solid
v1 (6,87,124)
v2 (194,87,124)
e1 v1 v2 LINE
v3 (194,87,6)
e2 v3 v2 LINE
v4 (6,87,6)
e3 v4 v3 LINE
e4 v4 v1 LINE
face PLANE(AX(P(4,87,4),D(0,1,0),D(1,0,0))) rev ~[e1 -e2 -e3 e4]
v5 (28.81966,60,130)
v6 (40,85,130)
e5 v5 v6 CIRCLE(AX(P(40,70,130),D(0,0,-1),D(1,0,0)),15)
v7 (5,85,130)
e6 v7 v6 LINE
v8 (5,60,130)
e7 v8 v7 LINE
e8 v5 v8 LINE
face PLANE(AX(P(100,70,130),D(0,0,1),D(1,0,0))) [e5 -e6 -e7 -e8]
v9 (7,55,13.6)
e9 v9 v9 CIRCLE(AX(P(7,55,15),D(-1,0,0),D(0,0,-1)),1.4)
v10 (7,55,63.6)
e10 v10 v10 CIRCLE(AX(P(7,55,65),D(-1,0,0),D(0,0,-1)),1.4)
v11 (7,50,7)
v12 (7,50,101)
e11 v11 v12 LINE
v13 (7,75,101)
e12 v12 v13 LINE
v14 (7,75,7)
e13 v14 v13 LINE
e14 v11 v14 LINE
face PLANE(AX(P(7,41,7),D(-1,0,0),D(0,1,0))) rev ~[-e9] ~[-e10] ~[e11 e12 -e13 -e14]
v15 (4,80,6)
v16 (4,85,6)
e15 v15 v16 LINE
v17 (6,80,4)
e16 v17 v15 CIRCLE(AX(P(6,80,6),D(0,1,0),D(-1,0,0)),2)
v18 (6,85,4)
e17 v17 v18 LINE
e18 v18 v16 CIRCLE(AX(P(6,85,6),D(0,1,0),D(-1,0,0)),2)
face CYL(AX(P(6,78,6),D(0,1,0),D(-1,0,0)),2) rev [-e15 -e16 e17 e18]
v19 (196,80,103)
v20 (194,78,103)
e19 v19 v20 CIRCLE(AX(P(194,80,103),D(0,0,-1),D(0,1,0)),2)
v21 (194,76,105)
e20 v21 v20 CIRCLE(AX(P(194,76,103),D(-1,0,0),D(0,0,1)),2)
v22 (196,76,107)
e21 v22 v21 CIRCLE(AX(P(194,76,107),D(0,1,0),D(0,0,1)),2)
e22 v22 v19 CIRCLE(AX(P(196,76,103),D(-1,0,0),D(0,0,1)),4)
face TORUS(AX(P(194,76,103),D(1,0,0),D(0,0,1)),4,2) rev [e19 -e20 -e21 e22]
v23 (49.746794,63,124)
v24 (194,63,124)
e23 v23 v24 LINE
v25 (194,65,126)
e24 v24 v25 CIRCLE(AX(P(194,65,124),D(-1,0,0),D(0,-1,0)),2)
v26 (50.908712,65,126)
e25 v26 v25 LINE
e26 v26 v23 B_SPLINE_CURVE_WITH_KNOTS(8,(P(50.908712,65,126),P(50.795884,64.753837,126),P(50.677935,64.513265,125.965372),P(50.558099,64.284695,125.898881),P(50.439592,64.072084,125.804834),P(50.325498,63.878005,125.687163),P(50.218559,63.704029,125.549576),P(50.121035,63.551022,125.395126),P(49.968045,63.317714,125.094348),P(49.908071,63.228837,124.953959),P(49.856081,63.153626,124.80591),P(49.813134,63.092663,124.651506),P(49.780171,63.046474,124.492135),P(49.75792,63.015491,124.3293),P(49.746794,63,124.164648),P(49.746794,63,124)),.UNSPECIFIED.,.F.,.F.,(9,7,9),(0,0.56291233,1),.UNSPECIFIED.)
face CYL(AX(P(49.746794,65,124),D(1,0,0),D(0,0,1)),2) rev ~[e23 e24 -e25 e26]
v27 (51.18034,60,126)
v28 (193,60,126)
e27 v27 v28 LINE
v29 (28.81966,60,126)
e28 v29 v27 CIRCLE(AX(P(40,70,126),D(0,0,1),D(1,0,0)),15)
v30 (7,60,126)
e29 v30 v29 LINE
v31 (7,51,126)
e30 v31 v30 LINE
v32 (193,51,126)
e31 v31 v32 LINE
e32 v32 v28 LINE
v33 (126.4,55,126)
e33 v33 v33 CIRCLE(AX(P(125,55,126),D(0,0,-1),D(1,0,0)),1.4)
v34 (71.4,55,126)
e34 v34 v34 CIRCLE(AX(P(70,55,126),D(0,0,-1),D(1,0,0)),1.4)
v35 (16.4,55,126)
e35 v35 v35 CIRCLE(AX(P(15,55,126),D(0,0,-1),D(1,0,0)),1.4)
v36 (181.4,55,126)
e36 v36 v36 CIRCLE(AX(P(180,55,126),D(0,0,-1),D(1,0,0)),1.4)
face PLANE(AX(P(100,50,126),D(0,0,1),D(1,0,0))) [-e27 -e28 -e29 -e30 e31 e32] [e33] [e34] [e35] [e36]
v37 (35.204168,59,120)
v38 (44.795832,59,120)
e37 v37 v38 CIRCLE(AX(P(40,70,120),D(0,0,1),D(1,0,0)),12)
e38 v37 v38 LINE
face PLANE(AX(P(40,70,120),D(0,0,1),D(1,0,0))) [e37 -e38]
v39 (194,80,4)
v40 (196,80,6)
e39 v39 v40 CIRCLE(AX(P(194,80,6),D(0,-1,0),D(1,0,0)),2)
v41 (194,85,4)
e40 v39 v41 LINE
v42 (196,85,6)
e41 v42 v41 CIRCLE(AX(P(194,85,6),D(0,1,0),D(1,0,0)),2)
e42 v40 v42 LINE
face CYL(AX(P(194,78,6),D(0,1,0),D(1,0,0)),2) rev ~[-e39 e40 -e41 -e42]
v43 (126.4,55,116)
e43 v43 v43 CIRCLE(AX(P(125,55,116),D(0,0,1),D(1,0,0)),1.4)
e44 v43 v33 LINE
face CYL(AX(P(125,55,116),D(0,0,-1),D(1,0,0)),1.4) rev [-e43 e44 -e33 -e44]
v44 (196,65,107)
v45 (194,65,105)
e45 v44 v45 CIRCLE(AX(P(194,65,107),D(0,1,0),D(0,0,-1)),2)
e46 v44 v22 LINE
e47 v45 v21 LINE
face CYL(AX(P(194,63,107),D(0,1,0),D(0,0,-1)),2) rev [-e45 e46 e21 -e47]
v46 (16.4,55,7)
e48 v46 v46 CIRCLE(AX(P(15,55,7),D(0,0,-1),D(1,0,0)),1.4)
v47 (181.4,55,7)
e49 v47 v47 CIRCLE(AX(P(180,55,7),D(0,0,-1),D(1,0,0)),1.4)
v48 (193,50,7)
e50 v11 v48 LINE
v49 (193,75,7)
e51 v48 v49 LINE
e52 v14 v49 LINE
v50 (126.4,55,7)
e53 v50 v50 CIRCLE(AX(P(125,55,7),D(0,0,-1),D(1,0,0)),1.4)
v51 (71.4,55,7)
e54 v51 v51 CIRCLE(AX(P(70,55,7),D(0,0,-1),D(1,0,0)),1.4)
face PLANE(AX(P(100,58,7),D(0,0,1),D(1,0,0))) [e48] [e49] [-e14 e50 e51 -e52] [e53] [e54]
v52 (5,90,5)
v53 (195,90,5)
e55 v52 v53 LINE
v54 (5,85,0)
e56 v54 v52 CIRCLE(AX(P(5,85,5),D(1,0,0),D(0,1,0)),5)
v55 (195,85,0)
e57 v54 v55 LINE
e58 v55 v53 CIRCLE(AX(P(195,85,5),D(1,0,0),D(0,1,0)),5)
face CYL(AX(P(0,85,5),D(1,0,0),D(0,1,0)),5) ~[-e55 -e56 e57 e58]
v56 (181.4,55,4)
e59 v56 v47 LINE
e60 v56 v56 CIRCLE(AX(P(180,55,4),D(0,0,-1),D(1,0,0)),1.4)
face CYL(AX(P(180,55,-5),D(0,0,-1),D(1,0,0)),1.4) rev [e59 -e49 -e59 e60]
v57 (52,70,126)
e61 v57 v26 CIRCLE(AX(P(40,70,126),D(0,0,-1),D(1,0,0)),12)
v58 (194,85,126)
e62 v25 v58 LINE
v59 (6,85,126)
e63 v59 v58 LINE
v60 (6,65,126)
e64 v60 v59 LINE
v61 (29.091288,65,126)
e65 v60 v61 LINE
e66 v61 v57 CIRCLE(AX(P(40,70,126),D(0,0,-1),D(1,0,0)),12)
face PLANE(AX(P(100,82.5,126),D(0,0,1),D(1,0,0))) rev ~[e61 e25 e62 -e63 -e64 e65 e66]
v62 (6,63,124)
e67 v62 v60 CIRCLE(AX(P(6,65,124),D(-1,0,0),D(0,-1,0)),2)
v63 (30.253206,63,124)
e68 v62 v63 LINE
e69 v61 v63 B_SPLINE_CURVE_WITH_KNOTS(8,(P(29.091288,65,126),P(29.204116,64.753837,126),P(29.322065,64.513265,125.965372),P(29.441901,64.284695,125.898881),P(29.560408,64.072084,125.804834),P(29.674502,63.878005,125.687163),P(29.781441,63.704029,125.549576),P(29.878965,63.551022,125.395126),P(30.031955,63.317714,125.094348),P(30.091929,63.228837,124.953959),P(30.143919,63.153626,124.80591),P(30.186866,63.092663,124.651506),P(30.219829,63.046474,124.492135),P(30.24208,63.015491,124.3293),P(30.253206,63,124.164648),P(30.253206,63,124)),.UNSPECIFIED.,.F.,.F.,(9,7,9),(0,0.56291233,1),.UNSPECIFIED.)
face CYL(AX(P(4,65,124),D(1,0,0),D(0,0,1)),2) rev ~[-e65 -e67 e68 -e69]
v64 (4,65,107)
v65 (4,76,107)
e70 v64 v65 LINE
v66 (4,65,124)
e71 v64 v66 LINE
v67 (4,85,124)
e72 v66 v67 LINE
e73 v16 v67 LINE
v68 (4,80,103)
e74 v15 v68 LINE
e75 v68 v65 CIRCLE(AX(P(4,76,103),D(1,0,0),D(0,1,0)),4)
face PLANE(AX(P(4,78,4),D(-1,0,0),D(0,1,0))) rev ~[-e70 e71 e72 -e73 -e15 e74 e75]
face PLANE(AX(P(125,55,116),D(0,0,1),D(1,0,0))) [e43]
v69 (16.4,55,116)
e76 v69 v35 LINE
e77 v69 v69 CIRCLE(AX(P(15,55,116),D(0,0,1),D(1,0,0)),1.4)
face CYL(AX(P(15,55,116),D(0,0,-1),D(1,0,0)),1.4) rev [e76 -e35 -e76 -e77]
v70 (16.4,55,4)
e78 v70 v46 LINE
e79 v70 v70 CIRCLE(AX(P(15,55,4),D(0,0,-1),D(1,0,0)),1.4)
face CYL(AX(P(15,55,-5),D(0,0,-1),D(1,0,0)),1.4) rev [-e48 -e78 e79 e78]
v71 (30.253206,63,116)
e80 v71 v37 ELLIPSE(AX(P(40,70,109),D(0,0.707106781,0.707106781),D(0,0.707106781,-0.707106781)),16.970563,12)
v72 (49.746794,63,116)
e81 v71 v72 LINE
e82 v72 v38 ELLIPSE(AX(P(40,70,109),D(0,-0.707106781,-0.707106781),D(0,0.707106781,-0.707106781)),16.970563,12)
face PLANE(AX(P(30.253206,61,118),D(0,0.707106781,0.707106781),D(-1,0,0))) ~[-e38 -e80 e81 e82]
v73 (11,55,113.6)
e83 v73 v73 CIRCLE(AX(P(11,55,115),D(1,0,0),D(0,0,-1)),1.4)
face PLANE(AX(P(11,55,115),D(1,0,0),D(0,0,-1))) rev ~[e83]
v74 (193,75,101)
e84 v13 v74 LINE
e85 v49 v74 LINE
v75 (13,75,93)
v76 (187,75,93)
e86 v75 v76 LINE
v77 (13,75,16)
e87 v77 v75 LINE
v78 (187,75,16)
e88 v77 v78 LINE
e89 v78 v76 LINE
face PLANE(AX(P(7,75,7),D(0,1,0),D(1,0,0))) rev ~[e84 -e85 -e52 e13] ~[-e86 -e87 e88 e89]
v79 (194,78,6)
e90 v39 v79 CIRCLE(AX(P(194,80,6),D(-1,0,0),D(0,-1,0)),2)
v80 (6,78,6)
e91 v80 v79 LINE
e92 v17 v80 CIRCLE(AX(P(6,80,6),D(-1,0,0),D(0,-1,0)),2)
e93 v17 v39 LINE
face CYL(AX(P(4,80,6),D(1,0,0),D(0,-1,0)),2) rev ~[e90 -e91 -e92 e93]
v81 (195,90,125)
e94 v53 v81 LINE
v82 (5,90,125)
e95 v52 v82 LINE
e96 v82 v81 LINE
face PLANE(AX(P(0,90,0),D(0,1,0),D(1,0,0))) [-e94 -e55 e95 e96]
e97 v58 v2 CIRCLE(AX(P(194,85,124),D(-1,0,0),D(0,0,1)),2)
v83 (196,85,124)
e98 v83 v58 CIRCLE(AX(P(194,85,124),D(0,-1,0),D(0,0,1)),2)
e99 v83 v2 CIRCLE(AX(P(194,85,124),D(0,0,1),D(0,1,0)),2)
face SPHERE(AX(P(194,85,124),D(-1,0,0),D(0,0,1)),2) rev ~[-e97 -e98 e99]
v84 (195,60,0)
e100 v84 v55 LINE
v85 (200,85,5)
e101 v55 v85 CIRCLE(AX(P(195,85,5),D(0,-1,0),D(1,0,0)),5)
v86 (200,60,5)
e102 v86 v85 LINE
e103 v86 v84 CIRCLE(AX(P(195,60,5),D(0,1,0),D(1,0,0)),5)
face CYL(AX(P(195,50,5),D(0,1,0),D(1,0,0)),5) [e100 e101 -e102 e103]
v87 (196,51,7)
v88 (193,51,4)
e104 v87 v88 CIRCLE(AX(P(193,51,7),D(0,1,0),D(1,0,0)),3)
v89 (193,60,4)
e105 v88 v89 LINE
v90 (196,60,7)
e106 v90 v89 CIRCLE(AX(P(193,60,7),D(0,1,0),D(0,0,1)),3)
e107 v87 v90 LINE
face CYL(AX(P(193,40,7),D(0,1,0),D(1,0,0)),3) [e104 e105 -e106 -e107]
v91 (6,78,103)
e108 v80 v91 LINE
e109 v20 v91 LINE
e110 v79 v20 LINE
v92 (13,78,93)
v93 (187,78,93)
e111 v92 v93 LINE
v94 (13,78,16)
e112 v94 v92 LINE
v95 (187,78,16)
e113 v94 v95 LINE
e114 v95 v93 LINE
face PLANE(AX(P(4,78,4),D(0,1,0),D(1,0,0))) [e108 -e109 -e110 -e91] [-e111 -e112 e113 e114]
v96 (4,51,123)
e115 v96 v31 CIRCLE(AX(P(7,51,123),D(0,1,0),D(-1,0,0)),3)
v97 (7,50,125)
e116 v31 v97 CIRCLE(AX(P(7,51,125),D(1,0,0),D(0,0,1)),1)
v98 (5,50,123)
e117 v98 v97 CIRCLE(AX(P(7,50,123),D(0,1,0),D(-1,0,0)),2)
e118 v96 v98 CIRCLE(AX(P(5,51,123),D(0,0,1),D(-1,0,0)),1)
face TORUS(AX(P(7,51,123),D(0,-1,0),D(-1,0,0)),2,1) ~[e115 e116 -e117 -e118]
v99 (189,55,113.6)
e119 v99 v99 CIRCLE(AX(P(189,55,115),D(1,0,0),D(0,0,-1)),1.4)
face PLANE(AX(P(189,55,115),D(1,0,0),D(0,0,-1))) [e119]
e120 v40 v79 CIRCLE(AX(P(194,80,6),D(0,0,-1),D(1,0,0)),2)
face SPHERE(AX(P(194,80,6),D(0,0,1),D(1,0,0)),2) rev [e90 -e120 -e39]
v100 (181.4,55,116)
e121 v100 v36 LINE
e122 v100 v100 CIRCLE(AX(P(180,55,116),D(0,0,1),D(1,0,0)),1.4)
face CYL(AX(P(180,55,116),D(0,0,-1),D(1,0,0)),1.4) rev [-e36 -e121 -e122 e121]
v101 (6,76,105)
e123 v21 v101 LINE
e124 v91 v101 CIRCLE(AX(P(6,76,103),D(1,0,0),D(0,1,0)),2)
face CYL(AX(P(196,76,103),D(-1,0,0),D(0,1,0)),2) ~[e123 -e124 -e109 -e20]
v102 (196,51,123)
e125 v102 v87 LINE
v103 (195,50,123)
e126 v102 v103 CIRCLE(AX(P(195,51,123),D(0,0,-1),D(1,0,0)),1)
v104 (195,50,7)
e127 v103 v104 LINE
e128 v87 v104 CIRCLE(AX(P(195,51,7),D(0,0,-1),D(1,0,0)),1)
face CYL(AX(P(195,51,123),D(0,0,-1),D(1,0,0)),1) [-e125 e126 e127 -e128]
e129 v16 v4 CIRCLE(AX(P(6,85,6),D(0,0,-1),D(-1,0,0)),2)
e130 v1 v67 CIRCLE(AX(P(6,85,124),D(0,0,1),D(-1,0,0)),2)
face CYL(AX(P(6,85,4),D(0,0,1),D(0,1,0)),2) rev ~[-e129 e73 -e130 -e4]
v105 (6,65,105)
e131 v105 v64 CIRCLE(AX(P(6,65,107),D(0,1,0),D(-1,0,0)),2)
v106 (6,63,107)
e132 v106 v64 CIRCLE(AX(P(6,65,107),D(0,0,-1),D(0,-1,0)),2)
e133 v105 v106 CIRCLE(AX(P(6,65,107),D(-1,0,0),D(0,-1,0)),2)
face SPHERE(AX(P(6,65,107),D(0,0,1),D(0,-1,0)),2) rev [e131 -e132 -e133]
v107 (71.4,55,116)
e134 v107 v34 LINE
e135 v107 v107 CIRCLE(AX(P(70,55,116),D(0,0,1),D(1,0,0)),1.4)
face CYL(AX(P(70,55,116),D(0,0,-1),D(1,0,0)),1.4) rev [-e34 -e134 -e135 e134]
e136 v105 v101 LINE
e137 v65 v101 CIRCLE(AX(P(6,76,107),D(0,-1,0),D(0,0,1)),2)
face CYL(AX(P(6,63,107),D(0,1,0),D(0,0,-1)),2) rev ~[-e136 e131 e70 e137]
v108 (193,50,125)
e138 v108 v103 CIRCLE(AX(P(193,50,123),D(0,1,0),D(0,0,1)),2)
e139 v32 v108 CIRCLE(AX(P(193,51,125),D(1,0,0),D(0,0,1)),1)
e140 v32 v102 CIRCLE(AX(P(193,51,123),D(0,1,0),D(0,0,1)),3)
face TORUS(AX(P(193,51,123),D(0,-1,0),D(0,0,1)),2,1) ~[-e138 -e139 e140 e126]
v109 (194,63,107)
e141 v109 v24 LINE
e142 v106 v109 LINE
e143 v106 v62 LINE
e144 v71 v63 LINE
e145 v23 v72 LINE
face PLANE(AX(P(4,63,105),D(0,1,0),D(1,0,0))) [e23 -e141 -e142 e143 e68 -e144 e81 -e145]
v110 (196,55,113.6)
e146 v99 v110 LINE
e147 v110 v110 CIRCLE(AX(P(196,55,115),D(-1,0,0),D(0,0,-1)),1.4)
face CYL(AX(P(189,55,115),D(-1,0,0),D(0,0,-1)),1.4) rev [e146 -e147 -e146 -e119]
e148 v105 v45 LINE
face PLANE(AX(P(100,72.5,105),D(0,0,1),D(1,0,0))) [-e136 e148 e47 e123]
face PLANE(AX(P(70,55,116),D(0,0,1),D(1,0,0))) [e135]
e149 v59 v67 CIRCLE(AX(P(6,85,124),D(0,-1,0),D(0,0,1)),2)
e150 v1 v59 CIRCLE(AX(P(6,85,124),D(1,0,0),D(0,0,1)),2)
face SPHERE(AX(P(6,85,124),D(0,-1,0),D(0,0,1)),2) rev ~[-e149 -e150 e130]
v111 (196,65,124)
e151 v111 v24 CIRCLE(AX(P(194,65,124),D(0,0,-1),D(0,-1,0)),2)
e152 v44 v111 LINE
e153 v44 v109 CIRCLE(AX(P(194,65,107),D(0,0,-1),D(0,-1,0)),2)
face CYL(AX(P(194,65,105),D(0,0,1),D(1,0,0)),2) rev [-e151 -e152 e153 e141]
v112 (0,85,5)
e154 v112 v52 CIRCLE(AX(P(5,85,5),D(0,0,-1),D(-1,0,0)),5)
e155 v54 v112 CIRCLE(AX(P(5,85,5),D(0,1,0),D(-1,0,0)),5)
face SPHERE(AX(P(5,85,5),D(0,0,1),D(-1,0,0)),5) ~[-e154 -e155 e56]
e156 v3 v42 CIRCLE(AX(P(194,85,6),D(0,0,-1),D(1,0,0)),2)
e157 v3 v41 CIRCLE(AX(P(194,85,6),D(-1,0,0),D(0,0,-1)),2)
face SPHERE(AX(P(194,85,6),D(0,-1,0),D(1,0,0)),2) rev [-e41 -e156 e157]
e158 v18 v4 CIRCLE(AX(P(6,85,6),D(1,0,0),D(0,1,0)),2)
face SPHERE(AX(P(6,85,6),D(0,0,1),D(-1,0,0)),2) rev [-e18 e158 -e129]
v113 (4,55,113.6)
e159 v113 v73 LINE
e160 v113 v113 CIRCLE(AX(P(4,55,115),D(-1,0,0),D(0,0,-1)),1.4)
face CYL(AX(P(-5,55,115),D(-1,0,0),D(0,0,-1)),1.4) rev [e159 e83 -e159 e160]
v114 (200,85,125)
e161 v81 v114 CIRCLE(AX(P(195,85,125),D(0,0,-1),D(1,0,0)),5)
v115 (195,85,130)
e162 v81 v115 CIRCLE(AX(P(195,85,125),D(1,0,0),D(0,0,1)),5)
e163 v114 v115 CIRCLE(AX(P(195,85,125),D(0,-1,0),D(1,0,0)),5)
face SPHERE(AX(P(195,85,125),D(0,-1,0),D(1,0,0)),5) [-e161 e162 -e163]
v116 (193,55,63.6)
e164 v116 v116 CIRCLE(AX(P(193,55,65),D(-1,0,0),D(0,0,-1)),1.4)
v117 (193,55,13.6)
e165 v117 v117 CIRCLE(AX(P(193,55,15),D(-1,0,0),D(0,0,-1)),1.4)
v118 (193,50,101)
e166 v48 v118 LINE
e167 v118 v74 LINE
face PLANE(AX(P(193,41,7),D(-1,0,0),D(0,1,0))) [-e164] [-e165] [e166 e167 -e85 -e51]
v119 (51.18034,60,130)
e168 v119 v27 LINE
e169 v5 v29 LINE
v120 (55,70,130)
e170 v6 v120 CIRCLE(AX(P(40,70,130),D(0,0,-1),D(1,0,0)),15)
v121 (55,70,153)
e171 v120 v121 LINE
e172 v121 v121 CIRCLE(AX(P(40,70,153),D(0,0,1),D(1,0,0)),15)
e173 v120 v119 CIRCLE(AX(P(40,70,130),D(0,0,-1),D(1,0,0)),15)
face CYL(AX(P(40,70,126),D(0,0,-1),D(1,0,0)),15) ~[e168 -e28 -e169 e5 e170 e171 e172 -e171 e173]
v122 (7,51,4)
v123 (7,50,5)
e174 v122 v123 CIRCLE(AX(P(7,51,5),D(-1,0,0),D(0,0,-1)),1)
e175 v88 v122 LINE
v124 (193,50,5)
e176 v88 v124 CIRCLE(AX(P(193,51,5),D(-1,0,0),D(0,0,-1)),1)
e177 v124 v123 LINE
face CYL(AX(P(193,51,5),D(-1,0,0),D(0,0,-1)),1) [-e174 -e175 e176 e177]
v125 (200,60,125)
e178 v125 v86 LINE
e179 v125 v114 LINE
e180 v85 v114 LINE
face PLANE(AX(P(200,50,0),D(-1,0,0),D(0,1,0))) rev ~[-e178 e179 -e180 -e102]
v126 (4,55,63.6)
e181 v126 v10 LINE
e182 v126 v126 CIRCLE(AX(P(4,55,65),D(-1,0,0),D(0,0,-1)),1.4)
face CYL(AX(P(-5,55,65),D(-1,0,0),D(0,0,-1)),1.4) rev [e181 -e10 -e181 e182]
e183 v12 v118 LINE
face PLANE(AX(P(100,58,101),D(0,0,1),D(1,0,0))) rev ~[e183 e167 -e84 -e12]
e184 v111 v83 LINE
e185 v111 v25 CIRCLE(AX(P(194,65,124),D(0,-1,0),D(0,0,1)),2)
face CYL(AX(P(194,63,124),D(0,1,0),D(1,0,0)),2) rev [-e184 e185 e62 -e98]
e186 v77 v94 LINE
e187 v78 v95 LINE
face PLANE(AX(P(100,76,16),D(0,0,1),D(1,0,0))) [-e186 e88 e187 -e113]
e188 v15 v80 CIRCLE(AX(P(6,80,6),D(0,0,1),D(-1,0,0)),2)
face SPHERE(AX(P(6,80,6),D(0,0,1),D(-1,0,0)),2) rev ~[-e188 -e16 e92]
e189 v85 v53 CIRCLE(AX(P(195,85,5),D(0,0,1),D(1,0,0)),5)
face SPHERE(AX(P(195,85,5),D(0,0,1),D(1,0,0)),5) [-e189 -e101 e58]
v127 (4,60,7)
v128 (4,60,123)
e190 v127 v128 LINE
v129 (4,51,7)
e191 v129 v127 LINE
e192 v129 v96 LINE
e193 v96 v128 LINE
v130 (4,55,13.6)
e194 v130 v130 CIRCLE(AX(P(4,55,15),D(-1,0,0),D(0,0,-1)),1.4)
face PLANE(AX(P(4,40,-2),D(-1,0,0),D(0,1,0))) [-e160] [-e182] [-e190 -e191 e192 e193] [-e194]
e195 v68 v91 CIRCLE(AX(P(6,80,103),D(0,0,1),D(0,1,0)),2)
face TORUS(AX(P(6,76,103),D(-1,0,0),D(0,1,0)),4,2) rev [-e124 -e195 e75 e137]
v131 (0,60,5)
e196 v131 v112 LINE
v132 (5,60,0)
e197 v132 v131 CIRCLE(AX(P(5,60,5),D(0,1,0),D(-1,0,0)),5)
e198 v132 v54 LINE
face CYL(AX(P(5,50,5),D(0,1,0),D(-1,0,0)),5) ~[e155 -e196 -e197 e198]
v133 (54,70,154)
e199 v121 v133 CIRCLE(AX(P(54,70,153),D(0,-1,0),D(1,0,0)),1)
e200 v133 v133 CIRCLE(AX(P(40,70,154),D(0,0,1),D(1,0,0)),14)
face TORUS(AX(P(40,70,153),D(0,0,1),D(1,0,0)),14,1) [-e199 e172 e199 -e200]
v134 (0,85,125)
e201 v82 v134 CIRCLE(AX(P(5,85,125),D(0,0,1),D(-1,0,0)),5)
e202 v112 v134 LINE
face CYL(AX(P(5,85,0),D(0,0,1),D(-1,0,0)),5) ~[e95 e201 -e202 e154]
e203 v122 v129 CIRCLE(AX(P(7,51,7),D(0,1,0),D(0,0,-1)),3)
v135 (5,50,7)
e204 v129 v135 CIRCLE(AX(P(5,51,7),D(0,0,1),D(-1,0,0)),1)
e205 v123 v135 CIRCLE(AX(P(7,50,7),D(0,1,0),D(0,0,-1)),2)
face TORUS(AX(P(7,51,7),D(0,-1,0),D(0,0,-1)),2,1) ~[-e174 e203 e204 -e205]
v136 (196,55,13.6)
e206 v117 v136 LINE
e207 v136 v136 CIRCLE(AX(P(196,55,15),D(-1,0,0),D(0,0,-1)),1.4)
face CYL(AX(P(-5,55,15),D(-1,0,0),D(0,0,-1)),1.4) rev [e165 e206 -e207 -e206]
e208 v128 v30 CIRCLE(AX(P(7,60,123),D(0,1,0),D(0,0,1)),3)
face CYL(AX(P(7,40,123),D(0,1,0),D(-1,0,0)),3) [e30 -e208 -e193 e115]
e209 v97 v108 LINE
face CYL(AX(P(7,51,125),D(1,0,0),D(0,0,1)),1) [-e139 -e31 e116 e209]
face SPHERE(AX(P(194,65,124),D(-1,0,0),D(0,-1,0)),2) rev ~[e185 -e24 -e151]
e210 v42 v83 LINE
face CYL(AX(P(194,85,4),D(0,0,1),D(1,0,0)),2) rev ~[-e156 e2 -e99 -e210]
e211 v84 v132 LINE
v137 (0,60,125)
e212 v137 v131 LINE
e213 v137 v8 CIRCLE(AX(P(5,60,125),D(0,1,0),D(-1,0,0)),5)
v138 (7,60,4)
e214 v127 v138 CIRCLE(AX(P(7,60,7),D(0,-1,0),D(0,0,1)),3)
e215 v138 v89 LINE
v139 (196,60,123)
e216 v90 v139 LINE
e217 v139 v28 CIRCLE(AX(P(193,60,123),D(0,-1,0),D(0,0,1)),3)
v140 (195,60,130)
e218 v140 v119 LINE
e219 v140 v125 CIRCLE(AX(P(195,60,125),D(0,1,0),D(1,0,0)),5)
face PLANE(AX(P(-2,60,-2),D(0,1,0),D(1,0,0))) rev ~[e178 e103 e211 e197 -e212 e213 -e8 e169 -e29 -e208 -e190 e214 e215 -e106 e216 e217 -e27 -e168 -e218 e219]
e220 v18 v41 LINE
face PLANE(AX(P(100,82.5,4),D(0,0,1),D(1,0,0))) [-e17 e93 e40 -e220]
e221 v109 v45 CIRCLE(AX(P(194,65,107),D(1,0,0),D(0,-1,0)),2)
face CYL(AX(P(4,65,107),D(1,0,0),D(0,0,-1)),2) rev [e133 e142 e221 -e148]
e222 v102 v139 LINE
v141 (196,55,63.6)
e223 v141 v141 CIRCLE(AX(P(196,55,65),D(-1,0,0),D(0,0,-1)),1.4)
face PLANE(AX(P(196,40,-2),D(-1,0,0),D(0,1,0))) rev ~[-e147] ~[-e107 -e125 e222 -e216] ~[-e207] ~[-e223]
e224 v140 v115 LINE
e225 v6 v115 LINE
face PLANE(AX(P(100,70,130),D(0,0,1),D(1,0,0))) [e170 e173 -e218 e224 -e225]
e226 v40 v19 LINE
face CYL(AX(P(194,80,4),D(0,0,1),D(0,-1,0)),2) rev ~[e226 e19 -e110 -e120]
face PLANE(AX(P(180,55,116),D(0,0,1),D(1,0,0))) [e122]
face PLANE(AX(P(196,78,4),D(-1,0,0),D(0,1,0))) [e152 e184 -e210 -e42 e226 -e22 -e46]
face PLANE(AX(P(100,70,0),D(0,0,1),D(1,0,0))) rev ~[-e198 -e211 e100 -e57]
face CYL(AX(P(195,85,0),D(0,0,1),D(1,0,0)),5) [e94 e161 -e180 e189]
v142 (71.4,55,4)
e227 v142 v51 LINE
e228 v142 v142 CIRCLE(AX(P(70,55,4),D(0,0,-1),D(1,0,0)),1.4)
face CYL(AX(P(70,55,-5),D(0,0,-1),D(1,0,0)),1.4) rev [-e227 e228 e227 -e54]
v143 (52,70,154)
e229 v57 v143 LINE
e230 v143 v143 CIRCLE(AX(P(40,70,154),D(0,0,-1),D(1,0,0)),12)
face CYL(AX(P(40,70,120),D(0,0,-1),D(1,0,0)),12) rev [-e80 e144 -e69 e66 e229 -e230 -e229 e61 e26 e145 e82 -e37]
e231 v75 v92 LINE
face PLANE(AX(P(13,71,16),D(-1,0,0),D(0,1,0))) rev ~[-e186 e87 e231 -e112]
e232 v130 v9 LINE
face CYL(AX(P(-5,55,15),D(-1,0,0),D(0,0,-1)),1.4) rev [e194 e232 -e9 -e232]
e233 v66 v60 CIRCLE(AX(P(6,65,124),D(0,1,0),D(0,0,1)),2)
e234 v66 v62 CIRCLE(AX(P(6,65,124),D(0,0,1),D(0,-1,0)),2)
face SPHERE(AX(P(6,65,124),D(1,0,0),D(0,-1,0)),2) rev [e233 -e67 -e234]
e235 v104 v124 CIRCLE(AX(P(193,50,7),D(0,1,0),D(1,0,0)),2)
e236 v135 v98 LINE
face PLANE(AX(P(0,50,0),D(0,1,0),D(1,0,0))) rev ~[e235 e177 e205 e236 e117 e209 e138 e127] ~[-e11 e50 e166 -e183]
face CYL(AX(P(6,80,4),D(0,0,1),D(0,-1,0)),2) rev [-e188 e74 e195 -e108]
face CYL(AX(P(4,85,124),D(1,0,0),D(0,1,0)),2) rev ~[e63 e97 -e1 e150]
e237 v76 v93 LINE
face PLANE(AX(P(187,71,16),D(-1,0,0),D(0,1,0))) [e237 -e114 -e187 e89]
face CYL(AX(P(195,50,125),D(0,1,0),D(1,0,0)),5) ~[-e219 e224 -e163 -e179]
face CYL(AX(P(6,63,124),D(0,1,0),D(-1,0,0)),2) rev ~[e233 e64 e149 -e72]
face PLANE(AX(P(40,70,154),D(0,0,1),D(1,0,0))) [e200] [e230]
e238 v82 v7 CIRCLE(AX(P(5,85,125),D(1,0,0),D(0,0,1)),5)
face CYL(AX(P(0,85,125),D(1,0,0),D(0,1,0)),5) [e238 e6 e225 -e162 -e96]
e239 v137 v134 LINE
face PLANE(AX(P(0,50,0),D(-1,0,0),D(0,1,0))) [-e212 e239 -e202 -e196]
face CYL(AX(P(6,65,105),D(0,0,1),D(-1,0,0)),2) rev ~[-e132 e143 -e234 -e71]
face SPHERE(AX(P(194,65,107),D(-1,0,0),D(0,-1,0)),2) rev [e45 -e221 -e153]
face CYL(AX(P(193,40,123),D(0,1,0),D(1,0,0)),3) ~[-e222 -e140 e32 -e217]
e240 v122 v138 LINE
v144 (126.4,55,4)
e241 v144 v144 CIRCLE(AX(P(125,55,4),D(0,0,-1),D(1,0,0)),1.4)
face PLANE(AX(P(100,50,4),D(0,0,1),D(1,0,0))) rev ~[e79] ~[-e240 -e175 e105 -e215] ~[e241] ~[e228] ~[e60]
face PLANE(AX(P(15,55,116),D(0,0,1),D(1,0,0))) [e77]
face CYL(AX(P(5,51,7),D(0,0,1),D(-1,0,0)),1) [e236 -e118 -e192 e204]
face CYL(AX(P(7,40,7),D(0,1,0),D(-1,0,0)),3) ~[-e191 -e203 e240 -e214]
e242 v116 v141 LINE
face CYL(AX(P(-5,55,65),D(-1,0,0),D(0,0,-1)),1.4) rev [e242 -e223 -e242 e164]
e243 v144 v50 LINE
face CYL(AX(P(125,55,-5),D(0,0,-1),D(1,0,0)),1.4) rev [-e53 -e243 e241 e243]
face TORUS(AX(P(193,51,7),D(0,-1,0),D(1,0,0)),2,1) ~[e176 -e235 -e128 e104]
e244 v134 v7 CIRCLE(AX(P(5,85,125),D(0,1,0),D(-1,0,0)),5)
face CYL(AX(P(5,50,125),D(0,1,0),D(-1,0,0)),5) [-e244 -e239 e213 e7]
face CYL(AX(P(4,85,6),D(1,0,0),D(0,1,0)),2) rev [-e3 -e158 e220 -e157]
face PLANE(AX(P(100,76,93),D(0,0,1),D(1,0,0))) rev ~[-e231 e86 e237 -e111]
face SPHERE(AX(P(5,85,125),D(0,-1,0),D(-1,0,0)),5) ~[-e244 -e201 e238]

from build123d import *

# Parameters (mm, degrees)
CYLINDER017_R           = 1.4
CYLINDER017_DEPTH       = 210
CYLINDER017_PITCH_ANGLE = 90
CYLINDER016_R           = 1.4
CYLINDER016_DEPTH       = 16
CYLINDER016_PITCH_ANGLE = 90
CYLINDER022_R           = 1.4
CYLINDER022_DEPTH       = 210
CYLINDER022_PITCH_ANGLE = 90
CYLINDER011_R           = 1.4
CYLINDER011_DEPTH       = 140
CYLINDER018_R           = 1.4
CYLINDER018_DEPTH       = 16
CYLINDER013_R           = 1.4
CYLINDER013_DEPTH       = 140
CYLINDER020_R           = 1.4
CYLINDER020_DEPTH       = 16
CYLINDER014_R           = 1.4
CYLINDER014_DEPTH       = 140
CYLINDER019_R           = 1.4
CYLINDER019_DEPTH       = 16
CYLINDER021_R           = 1.4
CYLINDER021_DEPTH       = 16
CYLINDER012_R           = 1.4
CYLINDER012_DEPTH       = 140
CYLINDER015_R           = 1.4
CYLINDER015_DEPTH       = 210
CYLINDER015_PITCH_ANGLE = 90
CYLINDER002_R           = 12
CYLINDER002_DEPTH       = 40
BOX014_W                = 204
BOX014_H                = 20
BOX014_DEPTH            = 134
THICKNESS_T             = -6
FILLET007_R             = 3
BOX011_W                = 186
BOX011_H                = 34
BOX011_DEPTH            = 94
BOX010_W                = 192
BOX010_H                = 9
BOX010_DEPTH            = 122
BOX009_W                = 174
BOX009_H                = 10
BOX009_DEPTH            = 77
BOX012_W                = 192
BOX012_H                = 19
BOX012_DEPTH            = 21
BOX002_W                = 200
BOX002_H                = 40
BOX002_DEPTH            = 130
FILLET005_R             = 5
CYLINDER001_R           = 15
CYLINDER001_DEPTH       = 28
FILLET008_R             = 1
CHAMFER_SIZE            = 4
FILLET009_R             = 2


with BuildPart() as cylinder017:
    # Cylinder017 → Cylinder017 (new body)
    with BuildSketch(Plane.XY):
        Circle(CYLINDER017_R)
    extrude(amount=CYLINDER017_DEPTH)


with BuildPart() as cylinder017_1:
    # Cylinder017 pitch: moved
    add(cylinder017.part.rotate(Axis((0, 0, 0), (0, 1, 0)), CYLINDER017_PITCH_ANGLE))


with BuildPart() as cylinder017_2:
    # Cylinder017 placement: moved
    add(cylinder017_1.part.moved(Location((-5, 55, 65))))


with BuildPart() as cylinder016:
    # Cylinder016 → Cylinder016 (new body)
    with BuildSketch(Plane.XY):
        Circle(CYLINDER016_R)
    extrude(amount=CYLINDER016_DEPTH)


with BuildPart() as cylinder016_1:
    # Cylinder016 pitch: moved
    add(cylinder016.part.rotate(Axis((0, 0, 0), (0, 1, 0)), CYLINDER016_PITCH_ANGLE))


with BuildPart() as cylinder016_2:
    # Cylinder016 placement: moved
    add(cylinder016_1.part.moved(Location((-5, 55, 115))))


with BuildPart() as cylinder022:
    # Cylinder022 → Cylinder022 (new body)
    with BuildSketch(Plane.XY):
        Circle(CYLINDER022_R)
    extrude(amount=CYLINDER022_DEPTH)


with BuildPart() as cylinder022_1:
    # Cylinder022 pitch: moved
    add(cylinder022.part.rotate(Axis((0, 0, 0), (0, 1, 0)), CYLINDER022_PITCH_ANGLE))


with BuildPart() as cylinder022_2:
    # Cylinder022 placement: moved
    add(cylinder022_1.part.moved(Location((189, 55, 115))))


with BuildPart() as cylinder011:
    # Cylinder011 → Cylinder011 (new body)
    with BuildSketch(Plane(origin=(15, 55, 116), x_dir=(1, 0, 0), z_dir=(0, 0, 1))):
        Circle(CYLINDER011_R)
    extrude(amount=CYLINDER011_DEPTH)


with BuildPart() as cylinder018:
    # Cylinder018 → Cylinder018 (new body)
    with BuildSketch(Plane(origin=(15, 55, -5), x_dir=(1, 0, 0), z_dir=(0, 0, 1))):
        Circle(CYLINDER018_R)
    extrude(amount=CYLINDER018_DEPTH)


with BuildPart() as cylinder013:
    # Cylinder013 → Cylinder013 (new body)
    with BuildSketch(Plane(origin=(70, 55, 116), x_dir=(1, 0, 0), z_dir=(0, 0, 1))):
        Circle(CYLINDER013_R)
    extrude(amount=CYLINDER013_DEPTH)


with BuildPart() as cylinder020:
    # Cylinder020 → Cylinder020 (new body)
    with BuildSketch(Plane(origin=(125, 55, -5), x_dir=(1, 0, 0), z_dir=(0, 0, 1))):
        Circle(CYLINDER020_R)
    extrude(amount=CYLINDER020_DEPTH)


with BuildPart() as cylinder014:
    # Cylinder014 → Cylinder014 (new body)
    with BuildSketch(Plane(origin=(125, 55, 116), x_dir=(1, 0, 0), z_dir=(0, 0, 1))):
        Circle(CYLINDER014_R)
    extrude(amount=CYLINDER014_DEPTH)


with BuildPart() as cylinder019:
    # Cylinder019 → Cylinder019 (new body)
    with BuildSketch(Plane(origin=(70, 55, -5), x_dir=(1, 0, 0), z_dir=(0, 0, 1))):
        Circle(CYLINDER019_R)
    extrude(amount=CYLINDER019_DEPTH)


with BuildPart() as cylinder021:
    # Cylinder021 → Cylinder021 (new body)
    with BuildSketch(Plane(origin=(180, 55, -5), x_dir=(1, 0, 0), z_dir=(0, 0, 1))):
        Circle(CYLINDER021_R)
    extrude(amount=CYLINDER021_DEPTH)


with BuildPart() as cylinder012:
    # Cylinder012 → Cylinder012 (new body)
    with BuildSketch(Plane(origin=(180, 55, 116), x_dir=(1, 0, 0), z_dir=(0, 0, 1))):
        Circle(CYLINDER012_R)
    extrude(amount=CYLINDER012_DEPTH)


with BuildPart() as fusion009:
    # Cylinder015 → Cylinder015 (new body)
    with BuildSketch(Plane.XY):
        Circle(CYLINDER015_R)
    extrude(amount=CYLINDER015_DEPTH)


with BuildPart() as fusion009_1:
    # Cylinder015 pitch: moved
    add(fusion009.part.rotate(Axis((0, 0, 0), (0, 1, 0)), CYLINDER015_PITCH_ANGLE))


with BuildPart() as fusion009_2:
    # Cylinder015 placement: moved
    add(fusion009_1.part.moved(Location((-5, 55, 15))))

    # Fusion009: union Cylinder017, Cylinder016, Cylinder022, Cylinder011, Cylinder018, Cylinder013, Cylinder020, Cylinder014, Cylinder019, Cylinder021, Cylinder012
    add(cylinder017_2.part)
    add(cylinder016_2.part)
    add(cylinder022_2.part)
    add(cylinder011.part)
    add(cylinder018.part)
    add(cylinder013.part)
    add(cylinder020.part)
    add(cylinder014.part)
    add(cylinder019.part)
    add(cylinder021.part)
    add(cylinder012.part)


with BuildPart() as cylinder002:
    # Cylinder002 → Cylinder002 (new body)
    with BuildSketch(Plane(origin=(40, 70, 120), x_dir=(1, 0, 0), z_dir=(0, 0, 1))):
        Circle(CYLINDER002_R)
    extrude(amount=CYLINDER002_DEPTH)


with BuildPart() as fillet007:
    # Box014 → Box014 (new body)
    with BuildSketch(Plane(origin=(-2, 48, -2), x_dir=(1, 0, 0), z_dir=(0, 0, 1))):
        with Locations((102, 10)):
            Rectangle(BOX014_W, BOX014_H)
    extrude(amount=BOX014_DEPTH)

    # Thickness
    thickness_openings = [fillet007.faces().sort_by_distance(p)[0] for p in [
        (100, 48, 65),
        (100, 68, 65),
    ]]
    offset(amount=THICKNESS_T, openings=thickness_openings)

    # Fillet007
    fillet007_edges = [fillet007.edges().sort_by_distance(p)[0] for p in [
        (196, 58, 4),
        (4, 58, 4),
        (196, 58, 126),
        (4, 58, 126),
    ]]
    fillet(fillet007_edges, radius=FILLET007_R)


with BuildPart() as fillet007_1:
    # Fillet007 placement: moved
    add(fillet007.part.moved(Location((0, -8, 0))))


with BuildPart() as cube011:
    # Box011 → Box011 (new body)
    with BuildSketch(Plane(origin=(7, 45, 7), x_dir=(1, 0, 0), z_dir=(0, 0, 1))):
        with Locations((93, 17)):
            Rectangle(BOX011_W, BOX011_H)
    extrude(amount=BOX011_DEPTH)


with BuildPart() as cube010:
    # Box010 → Box010 (new body)
    with BuildSketch(Plane(origin=(4, 82, 4), x_dir=(1, 0, 0), z_dir=(0, 0, 1))):
        with Locations((96, 4.5)):
            Rectangle(BOX010_W, BOX010_H)
    extrude(amount=BOX010_DEPTH)


with BuildPart() as cube009:
    # Box009 → Box009 (new body)
    with BuildSketch(Plane(origin=(13, 75, 16), x_dir=(1, 0, 0), z_dir=(0, 0, 1))):
        with Locations((87, 5)):
            Rectangle(BOX009_W, BOX009_H)
    extrude(amount=BOX009_DEPTH)


with BuildPart() as fusion004:
    # Box012 → Box012 (new body)
    with BuildSketch(Plane(origin=(4, 67, 105), x_dir=(1, 0, 0), z_dir=(0, 0, 1))):
        with Locations((96, 9.5)):
            Rectangle(BOX012_W, BOX012_H)
    extrude(amount=BOX012_DEPTH)

    # Fusion004: union Cube011, Cube010, Cube009
    add(cube011.part)
    add(cube010.part)
    add(cube009.part)


with BuildPart() as fusion004_1:
    # Fusion004 placement: moved
    add(fusion004.part.moved(Location((0, -4, 0))))


with BuildPart() as cut009:
    # Box002 → Box002 (new body)
    with BuildSketch(Plane(origin=(0, 50, 0), x_dir=(1, 0, 0), z_dir=(0, 0, 1))):
        with Locations((100, 20)):
            Rectangle(BOX002_W, BOX002_H)
    extrude(amount=BOX002_DEPTH)

    # Fillet005
    fillet005_edges = [cut009.edges().sort_by_distance(p)[0] for p in [
        (0, 70, 130),
        (0, 90, 65),
        (0, 70, 0),
        (200, 70, 130),
        (200, 90, 65),
        (200, 70, 0),
        (100, 90, 0),
        (100, 90, 130),
    ]]
    fillet(fillet005_edges, radius=FILLET005_R)

    # Cut006: cut Fusion004
    add(fusion004_1.part, mode=Mode.SUBTRACT)

    # Cut009: cut Fillet007
    add(fillet007_1.part, mode=Mode.SUBTRACT)


with BuildPart() as fillet009:
    # Cylinder001 → Cylinder001 (new body)
    with BuildSketch(Plane(origin=(40, 70, 126), x_dir=(1, 0, 0), z_dir=(0, 0, 1))):
        Circle(CYLINDER001_R)
    extrude(amount=CYLINDER001_DEPTH)

    # Fusion008: union Cut009
    add(cut009.part)

    # Cut010: cut Cylinder002
    add(cylinder002.part, mode=Mode.SUBTRACT)

    # Cut012: cut Fusion009
    add(fusion009_2.part, mode=Mode.SUBTRACT)

    # Fillet008
    fillet008_edges = [fillet009.edges().sort_by_distance(p)[0] for p in [
        (25, 70, 154),
        (195.12132, 50, 125.12132),
    ]]
    fillet(fillet008_edges, radius=FILLET008_R)

    # Chamfer
    chamfer_edges = [fillet009.edges().sort_by_distance(p)[0] for p in [
        (40, 63, 120),
    ]]
    chamfer(chamfer_edges, length=CHAMFER_SIZE)

    # Fillet009
    fillet009_edges = [fillet009.edges().sort_by_distance(p)[0] for p in [
        (17.126603, 63, 126),
        (4, 63, 115.5),
        (100, 63, 105),
        (122.873397, 63, 126),
        (196, 63, 115.5),
        (4, 75, 126),
        (100, 87, 126),
        (196, 75, 126),
        (4, 78, 54.5),
        (4, 70.5, 105),
        (4, 87, 65),
        (4, 82.5, 4),
        (100, 78, 105),
        (196, 70.5, 105),
        (196, 78, 54.5),
        (196, 82.5, 4),
        (196, 87, 65),
        (100, 87, 4),
        (100, 78, 4),
    ]]
    fillet(fillet009_edges, radius=FILLET009_R)


solid = fillet009.part
